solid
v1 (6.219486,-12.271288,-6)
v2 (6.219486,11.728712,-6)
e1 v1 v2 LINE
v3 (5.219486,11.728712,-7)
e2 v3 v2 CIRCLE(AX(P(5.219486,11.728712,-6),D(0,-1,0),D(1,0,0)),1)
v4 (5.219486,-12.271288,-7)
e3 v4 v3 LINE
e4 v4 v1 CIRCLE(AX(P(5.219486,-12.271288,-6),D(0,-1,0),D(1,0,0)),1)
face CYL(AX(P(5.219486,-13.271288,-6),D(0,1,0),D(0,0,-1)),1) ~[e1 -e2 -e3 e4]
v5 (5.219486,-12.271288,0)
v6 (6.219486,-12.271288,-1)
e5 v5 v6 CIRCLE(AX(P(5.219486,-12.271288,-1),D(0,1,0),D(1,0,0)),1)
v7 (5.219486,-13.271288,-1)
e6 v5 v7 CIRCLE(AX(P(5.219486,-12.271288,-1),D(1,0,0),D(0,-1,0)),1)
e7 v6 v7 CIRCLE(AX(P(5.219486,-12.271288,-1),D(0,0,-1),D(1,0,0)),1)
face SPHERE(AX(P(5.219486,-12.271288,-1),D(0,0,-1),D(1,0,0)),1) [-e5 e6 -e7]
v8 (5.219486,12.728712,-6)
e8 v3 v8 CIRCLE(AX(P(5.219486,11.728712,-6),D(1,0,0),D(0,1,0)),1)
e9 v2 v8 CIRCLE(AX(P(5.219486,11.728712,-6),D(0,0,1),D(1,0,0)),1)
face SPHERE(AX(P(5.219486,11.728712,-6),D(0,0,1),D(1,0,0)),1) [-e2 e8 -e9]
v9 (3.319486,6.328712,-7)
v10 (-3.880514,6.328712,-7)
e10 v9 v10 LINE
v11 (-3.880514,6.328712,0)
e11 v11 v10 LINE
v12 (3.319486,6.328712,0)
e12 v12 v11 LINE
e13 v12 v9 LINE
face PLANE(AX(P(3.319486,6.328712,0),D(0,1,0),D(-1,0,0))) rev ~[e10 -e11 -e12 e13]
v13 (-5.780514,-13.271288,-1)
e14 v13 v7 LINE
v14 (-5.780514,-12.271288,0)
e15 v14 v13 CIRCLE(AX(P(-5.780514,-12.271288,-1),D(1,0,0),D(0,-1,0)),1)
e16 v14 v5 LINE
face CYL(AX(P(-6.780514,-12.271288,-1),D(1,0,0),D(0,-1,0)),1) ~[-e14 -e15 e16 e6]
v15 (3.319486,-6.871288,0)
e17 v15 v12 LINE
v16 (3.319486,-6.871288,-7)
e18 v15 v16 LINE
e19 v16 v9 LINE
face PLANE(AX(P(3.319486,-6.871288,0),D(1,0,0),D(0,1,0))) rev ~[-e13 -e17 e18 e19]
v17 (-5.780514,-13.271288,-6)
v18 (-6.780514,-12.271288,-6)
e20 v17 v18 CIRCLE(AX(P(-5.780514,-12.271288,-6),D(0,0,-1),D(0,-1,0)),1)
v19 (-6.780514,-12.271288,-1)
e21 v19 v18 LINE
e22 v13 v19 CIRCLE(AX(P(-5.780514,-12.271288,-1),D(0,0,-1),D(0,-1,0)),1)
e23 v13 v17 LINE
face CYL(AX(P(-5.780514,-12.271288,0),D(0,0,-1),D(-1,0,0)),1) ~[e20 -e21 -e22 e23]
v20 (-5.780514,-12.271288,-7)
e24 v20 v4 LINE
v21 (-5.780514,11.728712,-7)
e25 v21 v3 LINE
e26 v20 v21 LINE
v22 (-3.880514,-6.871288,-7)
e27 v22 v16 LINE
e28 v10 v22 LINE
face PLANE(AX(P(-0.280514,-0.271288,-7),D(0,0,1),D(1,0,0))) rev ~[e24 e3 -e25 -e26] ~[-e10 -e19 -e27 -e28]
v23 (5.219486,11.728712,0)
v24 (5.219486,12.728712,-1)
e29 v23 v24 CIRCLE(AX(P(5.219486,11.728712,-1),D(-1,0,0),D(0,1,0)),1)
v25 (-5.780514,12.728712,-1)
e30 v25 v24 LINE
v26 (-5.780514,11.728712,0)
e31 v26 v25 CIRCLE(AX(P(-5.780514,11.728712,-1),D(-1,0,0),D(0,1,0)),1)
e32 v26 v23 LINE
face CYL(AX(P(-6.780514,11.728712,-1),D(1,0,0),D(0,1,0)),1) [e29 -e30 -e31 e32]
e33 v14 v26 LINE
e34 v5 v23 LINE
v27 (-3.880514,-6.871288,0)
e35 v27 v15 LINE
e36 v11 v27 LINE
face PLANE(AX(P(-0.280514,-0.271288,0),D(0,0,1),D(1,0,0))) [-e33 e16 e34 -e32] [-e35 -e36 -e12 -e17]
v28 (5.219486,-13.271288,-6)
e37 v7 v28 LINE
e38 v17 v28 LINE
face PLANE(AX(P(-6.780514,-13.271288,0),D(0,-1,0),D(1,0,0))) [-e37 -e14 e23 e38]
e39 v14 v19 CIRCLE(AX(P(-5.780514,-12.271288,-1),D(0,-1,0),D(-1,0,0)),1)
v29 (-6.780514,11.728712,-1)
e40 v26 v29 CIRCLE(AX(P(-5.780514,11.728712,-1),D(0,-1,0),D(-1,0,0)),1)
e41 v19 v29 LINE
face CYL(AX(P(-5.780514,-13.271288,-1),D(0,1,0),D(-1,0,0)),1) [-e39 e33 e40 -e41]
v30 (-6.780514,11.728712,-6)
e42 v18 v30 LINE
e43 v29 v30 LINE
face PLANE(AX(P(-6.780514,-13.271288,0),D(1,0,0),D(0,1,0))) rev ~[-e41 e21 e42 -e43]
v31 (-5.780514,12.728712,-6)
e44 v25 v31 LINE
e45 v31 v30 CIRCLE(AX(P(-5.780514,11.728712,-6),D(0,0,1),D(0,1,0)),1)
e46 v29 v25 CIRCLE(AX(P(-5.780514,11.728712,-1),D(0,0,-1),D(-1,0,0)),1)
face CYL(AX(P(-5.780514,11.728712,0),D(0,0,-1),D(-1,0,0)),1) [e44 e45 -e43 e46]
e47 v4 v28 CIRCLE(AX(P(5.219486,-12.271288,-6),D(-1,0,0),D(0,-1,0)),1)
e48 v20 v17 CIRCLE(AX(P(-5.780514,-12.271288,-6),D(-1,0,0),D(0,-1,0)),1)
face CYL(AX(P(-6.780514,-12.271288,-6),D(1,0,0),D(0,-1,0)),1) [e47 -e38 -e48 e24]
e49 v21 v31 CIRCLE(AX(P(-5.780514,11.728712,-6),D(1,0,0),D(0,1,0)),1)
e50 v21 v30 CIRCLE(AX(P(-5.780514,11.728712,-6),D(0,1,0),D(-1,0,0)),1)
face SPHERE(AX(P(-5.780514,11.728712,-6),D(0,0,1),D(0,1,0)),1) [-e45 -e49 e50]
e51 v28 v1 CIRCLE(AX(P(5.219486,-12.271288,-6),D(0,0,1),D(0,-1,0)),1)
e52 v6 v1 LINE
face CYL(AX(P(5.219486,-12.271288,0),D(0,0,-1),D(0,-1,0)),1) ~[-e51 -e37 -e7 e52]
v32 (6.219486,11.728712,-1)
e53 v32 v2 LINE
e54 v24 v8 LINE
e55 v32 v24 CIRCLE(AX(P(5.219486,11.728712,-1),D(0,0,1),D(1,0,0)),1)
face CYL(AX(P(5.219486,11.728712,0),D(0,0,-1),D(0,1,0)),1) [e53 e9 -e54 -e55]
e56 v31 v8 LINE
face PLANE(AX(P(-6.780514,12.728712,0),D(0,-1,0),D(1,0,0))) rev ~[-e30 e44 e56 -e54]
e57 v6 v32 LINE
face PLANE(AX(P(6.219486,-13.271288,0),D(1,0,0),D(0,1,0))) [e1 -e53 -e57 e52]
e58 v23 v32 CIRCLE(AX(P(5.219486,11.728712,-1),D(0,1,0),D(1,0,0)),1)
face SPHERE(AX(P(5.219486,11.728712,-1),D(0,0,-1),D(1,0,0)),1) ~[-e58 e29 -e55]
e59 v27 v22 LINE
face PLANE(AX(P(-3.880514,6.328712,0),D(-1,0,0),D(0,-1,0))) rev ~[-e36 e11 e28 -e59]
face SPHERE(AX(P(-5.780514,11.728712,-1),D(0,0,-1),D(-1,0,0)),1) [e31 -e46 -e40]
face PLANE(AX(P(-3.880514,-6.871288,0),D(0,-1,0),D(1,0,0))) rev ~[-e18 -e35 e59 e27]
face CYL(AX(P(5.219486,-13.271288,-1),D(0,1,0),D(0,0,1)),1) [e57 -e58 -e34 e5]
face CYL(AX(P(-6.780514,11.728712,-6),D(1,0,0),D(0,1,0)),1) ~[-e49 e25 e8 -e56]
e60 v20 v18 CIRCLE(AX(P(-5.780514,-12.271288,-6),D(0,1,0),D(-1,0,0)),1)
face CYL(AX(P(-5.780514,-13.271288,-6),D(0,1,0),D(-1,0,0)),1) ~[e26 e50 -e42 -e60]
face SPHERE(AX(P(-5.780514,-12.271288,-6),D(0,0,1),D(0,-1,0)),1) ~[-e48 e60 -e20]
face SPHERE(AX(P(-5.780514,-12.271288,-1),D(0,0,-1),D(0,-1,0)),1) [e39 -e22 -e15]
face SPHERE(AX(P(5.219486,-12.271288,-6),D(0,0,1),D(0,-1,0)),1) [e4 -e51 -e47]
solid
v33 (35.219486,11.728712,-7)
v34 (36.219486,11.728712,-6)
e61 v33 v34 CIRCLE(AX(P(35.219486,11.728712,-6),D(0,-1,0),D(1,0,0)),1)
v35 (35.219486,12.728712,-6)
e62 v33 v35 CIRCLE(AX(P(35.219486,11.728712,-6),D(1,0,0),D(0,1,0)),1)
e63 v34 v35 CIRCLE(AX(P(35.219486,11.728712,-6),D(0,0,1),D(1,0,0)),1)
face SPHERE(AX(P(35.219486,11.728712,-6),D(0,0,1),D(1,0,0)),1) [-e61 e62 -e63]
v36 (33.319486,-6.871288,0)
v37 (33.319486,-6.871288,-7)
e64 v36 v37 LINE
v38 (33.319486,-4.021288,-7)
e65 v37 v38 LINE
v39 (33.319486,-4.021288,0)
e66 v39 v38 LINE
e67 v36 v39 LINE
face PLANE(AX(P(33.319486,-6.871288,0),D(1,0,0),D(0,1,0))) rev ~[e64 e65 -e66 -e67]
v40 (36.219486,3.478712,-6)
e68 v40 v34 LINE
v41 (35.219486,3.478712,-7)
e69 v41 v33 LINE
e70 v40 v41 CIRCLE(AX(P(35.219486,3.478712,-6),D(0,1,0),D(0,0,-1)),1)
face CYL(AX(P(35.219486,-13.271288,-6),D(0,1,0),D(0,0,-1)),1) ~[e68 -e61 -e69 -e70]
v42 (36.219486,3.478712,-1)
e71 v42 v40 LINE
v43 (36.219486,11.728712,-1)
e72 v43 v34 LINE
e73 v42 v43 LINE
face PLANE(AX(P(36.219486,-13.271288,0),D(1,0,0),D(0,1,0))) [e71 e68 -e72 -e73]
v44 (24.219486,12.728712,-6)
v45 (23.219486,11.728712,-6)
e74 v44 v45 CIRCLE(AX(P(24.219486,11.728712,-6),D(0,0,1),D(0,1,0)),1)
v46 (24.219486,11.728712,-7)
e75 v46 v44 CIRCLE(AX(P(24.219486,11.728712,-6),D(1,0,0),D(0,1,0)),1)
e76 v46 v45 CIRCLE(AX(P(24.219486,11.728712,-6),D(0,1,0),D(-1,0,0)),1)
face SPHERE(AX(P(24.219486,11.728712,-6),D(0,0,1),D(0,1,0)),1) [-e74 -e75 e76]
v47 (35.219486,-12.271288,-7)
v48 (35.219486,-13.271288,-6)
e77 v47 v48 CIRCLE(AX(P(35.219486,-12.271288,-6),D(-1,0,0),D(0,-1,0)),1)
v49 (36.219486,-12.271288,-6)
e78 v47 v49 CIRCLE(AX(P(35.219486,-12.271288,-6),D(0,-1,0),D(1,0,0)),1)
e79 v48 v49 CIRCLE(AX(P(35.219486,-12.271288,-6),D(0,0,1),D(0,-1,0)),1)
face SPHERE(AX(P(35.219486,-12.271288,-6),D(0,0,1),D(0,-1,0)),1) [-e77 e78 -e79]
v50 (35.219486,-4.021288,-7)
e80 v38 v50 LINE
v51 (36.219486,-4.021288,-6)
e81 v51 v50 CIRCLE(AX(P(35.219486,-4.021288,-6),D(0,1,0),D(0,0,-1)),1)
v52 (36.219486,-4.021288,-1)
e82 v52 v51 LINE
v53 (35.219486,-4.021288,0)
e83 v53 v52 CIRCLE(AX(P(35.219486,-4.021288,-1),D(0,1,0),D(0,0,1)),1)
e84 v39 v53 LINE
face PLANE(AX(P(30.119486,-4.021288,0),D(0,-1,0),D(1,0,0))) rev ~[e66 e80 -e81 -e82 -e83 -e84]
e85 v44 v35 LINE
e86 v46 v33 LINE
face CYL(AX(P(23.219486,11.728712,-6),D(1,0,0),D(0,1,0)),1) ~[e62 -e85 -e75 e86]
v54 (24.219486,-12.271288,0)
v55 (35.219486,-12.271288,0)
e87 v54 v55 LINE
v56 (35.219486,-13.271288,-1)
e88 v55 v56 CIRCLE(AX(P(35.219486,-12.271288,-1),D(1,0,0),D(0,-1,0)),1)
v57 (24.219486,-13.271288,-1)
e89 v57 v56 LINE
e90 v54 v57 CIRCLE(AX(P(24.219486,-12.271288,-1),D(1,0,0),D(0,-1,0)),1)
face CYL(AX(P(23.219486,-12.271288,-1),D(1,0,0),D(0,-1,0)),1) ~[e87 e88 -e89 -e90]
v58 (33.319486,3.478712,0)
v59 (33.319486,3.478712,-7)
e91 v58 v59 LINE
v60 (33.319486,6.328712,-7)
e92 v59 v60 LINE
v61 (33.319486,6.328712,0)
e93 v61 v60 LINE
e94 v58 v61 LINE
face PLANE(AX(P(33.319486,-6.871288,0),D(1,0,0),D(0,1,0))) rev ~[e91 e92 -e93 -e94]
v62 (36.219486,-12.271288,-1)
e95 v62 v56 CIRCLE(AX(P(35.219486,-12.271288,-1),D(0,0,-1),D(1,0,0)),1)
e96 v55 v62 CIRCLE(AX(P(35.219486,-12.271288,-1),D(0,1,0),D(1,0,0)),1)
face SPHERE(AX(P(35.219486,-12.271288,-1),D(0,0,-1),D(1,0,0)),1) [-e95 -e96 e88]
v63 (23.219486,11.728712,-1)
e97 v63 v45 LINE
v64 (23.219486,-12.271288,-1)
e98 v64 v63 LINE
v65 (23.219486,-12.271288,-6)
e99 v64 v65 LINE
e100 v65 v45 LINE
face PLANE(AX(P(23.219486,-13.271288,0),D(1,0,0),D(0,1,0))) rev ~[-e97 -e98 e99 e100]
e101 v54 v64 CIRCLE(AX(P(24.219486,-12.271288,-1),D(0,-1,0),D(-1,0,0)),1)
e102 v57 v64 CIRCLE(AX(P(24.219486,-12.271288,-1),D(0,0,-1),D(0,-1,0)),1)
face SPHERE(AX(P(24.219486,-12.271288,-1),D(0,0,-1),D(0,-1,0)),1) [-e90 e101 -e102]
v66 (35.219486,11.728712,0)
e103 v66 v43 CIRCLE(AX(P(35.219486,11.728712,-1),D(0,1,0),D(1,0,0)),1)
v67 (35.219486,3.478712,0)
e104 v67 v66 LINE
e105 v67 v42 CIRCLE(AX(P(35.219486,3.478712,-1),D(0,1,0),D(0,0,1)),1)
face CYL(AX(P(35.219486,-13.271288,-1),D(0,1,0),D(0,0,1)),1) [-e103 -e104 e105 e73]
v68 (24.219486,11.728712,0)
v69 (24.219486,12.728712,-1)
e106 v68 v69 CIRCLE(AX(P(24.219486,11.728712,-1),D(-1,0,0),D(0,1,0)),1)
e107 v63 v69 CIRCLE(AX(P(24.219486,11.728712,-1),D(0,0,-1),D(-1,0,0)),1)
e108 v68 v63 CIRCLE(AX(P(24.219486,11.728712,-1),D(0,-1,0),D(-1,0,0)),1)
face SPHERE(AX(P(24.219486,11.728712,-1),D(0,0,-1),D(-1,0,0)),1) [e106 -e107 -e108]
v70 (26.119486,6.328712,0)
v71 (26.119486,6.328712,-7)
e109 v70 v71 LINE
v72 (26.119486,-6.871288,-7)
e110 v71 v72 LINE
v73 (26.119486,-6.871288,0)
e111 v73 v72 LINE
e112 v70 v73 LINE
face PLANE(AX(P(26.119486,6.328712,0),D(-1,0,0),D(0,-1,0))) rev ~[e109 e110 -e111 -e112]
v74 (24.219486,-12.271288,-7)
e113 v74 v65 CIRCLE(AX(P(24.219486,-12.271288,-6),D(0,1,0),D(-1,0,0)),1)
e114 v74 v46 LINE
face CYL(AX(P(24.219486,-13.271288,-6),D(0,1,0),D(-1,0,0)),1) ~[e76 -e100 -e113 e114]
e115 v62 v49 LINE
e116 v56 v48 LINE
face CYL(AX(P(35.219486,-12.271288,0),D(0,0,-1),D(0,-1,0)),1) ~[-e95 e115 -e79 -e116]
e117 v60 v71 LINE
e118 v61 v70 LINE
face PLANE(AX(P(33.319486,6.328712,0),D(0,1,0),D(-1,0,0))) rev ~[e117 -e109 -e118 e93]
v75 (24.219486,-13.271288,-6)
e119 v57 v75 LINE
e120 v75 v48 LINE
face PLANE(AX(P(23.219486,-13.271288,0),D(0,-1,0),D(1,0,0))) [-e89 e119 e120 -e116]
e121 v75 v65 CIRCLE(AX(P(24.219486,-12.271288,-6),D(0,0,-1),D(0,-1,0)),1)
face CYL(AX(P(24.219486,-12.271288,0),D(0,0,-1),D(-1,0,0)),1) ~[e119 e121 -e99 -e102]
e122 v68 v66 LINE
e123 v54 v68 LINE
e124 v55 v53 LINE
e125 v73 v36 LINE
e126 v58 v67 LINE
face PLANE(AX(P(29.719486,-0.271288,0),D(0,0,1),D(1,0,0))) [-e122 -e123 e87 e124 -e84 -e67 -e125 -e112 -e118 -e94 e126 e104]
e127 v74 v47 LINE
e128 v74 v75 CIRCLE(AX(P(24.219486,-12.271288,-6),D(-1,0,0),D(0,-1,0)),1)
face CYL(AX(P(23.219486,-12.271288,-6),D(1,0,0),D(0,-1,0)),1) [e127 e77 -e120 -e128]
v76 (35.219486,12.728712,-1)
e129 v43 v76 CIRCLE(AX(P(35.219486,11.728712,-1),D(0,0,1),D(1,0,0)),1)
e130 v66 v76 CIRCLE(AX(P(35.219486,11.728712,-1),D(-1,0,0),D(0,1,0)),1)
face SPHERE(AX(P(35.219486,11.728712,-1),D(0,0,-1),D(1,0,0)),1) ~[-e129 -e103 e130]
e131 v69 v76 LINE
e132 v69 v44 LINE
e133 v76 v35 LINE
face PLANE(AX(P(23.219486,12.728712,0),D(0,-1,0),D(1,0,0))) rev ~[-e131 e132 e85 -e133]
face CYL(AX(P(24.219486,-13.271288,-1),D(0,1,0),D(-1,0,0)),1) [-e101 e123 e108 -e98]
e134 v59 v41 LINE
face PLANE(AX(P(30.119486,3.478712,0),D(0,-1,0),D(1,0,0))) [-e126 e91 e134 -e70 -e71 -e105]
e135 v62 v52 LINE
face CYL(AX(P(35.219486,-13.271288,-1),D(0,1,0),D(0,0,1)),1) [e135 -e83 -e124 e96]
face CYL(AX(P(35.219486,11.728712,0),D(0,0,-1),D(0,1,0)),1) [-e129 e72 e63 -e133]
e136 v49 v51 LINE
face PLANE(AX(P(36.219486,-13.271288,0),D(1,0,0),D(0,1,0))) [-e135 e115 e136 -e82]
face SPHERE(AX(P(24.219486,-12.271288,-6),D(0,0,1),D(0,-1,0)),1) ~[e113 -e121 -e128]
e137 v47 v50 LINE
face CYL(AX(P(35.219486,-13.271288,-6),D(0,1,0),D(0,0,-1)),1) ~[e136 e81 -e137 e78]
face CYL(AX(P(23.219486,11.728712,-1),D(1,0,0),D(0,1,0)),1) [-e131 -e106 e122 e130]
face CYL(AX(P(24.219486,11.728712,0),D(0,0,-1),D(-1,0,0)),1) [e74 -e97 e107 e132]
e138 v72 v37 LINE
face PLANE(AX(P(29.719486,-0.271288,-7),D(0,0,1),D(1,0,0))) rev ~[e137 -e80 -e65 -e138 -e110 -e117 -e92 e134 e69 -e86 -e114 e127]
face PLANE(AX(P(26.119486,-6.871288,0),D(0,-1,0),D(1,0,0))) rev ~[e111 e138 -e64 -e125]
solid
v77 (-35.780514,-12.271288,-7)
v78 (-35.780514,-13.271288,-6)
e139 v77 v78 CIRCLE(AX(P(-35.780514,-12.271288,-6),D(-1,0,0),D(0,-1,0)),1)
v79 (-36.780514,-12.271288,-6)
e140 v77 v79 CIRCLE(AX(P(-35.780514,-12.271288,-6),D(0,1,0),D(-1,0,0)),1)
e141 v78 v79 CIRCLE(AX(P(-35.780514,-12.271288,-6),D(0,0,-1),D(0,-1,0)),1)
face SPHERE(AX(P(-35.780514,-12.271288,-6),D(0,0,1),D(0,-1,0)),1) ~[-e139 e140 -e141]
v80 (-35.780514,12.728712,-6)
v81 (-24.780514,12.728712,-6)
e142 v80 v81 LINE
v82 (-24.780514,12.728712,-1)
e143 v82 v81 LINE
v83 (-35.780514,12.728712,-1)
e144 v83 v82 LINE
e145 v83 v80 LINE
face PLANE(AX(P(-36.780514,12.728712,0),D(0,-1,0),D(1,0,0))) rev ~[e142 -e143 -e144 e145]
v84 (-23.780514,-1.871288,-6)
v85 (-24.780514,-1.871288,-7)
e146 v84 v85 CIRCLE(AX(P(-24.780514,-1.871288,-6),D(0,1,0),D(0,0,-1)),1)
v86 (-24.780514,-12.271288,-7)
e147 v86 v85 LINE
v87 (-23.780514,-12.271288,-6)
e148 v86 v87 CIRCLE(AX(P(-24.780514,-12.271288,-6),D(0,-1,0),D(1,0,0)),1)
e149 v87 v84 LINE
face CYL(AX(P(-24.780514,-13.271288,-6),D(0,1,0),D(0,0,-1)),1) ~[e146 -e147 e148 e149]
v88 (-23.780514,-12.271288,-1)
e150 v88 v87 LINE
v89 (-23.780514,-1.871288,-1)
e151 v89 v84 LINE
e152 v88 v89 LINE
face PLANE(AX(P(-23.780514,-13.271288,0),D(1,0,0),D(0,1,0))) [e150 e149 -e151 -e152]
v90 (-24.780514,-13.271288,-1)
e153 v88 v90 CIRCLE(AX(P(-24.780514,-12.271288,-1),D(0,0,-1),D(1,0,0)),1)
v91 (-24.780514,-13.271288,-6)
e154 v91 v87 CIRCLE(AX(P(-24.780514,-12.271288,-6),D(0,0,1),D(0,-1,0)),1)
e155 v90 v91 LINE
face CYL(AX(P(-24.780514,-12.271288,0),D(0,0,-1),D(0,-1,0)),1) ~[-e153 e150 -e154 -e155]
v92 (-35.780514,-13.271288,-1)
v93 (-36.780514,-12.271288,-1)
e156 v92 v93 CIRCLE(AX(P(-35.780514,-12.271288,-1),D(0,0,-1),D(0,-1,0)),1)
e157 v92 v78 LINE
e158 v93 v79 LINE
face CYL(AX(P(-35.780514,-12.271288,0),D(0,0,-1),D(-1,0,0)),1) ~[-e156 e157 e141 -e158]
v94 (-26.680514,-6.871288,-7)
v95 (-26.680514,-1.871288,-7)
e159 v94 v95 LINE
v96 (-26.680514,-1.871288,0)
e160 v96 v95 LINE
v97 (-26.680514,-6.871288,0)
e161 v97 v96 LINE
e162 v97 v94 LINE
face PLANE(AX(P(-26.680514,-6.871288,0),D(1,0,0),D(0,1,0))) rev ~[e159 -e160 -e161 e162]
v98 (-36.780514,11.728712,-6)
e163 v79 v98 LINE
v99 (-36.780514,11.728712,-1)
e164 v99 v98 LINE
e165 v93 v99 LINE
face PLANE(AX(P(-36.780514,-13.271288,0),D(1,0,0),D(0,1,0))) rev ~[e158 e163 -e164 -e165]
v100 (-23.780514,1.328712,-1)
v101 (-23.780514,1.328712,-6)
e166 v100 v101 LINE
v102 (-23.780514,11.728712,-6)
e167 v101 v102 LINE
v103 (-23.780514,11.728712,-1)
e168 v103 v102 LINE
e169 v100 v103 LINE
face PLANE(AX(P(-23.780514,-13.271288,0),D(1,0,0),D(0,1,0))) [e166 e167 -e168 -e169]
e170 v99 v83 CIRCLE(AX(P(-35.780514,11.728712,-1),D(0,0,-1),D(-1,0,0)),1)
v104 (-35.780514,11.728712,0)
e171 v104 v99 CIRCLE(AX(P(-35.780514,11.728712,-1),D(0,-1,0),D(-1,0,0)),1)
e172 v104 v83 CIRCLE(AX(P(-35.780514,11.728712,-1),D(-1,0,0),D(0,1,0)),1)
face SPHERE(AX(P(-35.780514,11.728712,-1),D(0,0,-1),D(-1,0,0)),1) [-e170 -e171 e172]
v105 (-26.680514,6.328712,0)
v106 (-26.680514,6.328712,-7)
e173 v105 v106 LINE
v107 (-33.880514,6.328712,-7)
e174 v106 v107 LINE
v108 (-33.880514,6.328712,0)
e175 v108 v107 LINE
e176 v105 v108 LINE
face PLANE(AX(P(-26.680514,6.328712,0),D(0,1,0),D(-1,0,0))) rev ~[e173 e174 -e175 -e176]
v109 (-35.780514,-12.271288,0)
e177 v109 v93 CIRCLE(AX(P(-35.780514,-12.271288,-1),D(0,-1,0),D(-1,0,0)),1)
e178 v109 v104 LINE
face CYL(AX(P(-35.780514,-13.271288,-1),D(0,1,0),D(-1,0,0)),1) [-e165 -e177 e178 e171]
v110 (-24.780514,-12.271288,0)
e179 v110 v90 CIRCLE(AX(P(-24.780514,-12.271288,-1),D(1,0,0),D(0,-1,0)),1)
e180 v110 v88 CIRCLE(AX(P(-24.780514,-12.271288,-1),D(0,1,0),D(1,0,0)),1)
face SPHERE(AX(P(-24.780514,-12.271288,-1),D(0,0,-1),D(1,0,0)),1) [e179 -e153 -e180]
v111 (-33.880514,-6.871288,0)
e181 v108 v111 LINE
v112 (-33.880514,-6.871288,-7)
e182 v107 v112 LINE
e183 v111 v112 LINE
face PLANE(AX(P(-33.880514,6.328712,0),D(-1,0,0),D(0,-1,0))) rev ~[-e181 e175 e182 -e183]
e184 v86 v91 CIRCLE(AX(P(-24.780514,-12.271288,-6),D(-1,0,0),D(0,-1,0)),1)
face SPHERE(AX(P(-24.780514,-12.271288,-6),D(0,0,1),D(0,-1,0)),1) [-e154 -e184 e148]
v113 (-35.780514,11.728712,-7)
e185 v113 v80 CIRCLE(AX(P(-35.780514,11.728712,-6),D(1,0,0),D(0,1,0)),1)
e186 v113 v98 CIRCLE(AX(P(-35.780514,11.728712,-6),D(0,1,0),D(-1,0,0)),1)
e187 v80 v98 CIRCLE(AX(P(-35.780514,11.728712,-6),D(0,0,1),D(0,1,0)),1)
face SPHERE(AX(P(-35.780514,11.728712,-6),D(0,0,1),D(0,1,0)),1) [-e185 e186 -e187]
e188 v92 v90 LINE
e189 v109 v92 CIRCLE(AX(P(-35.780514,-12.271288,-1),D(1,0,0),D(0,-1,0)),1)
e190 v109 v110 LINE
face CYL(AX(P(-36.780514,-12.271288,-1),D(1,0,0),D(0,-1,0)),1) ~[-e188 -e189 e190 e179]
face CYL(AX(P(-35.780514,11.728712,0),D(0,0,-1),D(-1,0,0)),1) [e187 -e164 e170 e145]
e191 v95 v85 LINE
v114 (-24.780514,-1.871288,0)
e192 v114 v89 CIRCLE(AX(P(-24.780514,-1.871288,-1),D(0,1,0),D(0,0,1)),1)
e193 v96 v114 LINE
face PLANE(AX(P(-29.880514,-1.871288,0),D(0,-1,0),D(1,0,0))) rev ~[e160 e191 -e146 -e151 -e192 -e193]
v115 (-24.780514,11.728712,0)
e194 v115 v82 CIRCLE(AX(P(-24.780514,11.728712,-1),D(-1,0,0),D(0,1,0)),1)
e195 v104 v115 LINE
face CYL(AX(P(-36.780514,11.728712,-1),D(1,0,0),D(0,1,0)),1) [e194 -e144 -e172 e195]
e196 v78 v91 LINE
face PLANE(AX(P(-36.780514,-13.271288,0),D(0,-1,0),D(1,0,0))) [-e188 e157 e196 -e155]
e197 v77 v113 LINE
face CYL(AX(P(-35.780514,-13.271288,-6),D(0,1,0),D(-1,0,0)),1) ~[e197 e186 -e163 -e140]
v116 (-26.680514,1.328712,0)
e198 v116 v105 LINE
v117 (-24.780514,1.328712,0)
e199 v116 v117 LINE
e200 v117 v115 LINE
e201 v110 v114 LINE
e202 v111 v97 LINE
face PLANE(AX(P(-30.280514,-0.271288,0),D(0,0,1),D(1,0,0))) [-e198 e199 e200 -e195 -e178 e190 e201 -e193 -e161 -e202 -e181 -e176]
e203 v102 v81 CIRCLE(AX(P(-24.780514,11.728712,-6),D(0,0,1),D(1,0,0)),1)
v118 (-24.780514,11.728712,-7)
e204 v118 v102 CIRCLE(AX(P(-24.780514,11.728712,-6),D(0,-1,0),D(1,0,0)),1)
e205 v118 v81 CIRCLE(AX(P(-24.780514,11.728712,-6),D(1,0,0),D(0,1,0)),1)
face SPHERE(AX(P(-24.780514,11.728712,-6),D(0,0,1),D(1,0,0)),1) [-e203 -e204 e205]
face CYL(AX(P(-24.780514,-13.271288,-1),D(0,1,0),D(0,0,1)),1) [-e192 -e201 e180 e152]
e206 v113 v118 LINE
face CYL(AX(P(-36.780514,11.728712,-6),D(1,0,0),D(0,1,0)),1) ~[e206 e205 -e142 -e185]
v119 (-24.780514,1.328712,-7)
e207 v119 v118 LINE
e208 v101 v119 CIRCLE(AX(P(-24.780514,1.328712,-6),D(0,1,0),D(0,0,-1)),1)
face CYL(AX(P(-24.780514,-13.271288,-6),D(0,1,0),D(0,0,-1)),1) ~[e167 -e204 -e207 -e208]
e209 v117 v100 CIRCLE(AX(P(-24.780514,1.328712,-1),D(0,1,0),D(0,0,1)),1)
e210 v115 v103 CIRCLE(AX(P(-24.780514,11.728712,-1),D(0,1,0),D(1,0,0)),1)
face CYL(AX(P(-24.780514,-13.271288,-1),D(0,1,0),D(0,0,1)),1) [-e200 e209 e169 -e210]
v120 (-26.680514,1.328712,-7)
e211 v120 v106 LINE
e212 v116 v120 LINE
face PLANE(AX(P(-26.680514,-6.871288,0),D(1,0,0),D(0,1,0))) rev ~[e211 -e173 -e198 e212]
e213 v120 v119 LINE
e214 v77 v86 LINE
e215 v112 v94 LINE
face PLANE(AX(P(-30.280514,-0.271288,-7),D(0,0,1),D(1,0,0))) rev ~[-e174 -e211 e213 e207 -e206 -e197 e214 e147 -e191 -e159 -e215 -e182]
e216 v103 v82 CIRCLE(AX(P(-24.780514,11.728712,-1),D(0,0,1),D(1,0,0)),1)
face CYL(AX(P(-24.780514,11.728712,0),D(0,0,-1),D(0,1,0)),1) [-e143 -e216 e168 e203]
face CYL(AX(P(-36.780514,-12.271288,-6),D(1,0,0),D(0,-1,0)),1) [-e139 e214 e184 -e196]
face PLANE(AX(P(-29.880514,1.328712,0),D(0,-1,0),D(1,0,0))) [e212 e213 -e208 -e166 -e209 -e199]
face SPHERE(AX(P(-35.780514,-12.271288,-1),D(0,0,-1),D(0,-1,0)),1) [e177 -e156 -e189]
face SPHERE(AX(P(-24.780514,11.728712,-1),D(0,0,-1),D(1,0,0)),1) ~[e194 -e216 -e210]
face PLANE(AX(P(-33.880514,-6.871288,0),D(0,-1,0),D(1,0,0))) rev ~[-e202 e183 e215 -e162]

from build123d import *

# Parameters (mm, degrees)
F0_W      = 13
F0_H      = 26
F1_DEPTH  = 7
F3_DEPTH  = 7.001
F4_R      = 1
F6_W      = 10
F6_H      = 7.5
F7_DEPTH  = 7.001
F9_W      = 10
F9_H      = 3.2
F10_DEPTH = 7.001


with BuildPart() as f1:
    # F0 (on Top) → F1 (new body)
    with BuildSketch(Plane.XY):
        with Locations((-0.280514, -0.271288)):
            Rectangle(F0_W, F0_H)
    extrude(amount=-F1_DEPTH)

    # F2 (on face) → F3 (cut, through all)
    with BuildSketch(Plane.XY):
        Polygon((-0.280514, 6.328712), (-3.880514, 6.328712), (-3.880514, -0.271288), (-3.880514, -6.871288), (-0.280514, -6.871288), (3.319486, -6.871288), (3.319486, -0.271288), (3.319486, 6.328712), align=None)
    extrude(amount=-F3_DEPTH, mode=Mode.SUBTRACT)

    # F4
    f4_edges = [f1.edges().sort_by_distance(p)[0] for p in [
        (6.219486, -13.271288, -3.5),
        (6.219486, 12.728712, -3.5),
        (-6.780514, -13.271288, -3.5),
        (-6.780514, 12.728712, -3.5),
        (6.219486, -0.271288, 0),
        (-0.280514, -13.271288, 0),
        (-6.780514, -0.271288, 0),
        (-0.280514, 12.728712, 0),
        (-0.280514, -13.271288, -7),
        (6.219486, -0.271288, -7),
        (-0.280514, 12.728712, -7),
        (-6.780514, -0.271288, -7),
    ]]
    fillet(f4_edges, radius=F4_R)


with BuildPart() as f5_1:
    # F5: copy of F1
    add(f1.part.moved(Location((30, 0, 0))))

    # F6 (on face) → F7 (cut, through all)
    with BuildSketch(Plane.XY):
        with Locations((35.119486, -0.271288)):
            Rectangle(F6_W, F6_H)
    extrude(amount=-F7_DEPTH, mode=Mode.SUBTRACT)


with BuildPart() as f8_1:
    # F8: copy of F1
    add(f1.part.moved(Location((-30, 0, 0))))

    # F9 (on face) → F10 (cut, through all)
    with BuildSketch(Plane.XY):
        with Locations((-24.880514, -0.271288)):
            Rectangle(F9_W, F9_H)
    extrude(amount=-F10_DEPTH, mode=Mode.SUBTRACT)


solid = Compound([f1.part, f5_1.part, f8_1.part])
